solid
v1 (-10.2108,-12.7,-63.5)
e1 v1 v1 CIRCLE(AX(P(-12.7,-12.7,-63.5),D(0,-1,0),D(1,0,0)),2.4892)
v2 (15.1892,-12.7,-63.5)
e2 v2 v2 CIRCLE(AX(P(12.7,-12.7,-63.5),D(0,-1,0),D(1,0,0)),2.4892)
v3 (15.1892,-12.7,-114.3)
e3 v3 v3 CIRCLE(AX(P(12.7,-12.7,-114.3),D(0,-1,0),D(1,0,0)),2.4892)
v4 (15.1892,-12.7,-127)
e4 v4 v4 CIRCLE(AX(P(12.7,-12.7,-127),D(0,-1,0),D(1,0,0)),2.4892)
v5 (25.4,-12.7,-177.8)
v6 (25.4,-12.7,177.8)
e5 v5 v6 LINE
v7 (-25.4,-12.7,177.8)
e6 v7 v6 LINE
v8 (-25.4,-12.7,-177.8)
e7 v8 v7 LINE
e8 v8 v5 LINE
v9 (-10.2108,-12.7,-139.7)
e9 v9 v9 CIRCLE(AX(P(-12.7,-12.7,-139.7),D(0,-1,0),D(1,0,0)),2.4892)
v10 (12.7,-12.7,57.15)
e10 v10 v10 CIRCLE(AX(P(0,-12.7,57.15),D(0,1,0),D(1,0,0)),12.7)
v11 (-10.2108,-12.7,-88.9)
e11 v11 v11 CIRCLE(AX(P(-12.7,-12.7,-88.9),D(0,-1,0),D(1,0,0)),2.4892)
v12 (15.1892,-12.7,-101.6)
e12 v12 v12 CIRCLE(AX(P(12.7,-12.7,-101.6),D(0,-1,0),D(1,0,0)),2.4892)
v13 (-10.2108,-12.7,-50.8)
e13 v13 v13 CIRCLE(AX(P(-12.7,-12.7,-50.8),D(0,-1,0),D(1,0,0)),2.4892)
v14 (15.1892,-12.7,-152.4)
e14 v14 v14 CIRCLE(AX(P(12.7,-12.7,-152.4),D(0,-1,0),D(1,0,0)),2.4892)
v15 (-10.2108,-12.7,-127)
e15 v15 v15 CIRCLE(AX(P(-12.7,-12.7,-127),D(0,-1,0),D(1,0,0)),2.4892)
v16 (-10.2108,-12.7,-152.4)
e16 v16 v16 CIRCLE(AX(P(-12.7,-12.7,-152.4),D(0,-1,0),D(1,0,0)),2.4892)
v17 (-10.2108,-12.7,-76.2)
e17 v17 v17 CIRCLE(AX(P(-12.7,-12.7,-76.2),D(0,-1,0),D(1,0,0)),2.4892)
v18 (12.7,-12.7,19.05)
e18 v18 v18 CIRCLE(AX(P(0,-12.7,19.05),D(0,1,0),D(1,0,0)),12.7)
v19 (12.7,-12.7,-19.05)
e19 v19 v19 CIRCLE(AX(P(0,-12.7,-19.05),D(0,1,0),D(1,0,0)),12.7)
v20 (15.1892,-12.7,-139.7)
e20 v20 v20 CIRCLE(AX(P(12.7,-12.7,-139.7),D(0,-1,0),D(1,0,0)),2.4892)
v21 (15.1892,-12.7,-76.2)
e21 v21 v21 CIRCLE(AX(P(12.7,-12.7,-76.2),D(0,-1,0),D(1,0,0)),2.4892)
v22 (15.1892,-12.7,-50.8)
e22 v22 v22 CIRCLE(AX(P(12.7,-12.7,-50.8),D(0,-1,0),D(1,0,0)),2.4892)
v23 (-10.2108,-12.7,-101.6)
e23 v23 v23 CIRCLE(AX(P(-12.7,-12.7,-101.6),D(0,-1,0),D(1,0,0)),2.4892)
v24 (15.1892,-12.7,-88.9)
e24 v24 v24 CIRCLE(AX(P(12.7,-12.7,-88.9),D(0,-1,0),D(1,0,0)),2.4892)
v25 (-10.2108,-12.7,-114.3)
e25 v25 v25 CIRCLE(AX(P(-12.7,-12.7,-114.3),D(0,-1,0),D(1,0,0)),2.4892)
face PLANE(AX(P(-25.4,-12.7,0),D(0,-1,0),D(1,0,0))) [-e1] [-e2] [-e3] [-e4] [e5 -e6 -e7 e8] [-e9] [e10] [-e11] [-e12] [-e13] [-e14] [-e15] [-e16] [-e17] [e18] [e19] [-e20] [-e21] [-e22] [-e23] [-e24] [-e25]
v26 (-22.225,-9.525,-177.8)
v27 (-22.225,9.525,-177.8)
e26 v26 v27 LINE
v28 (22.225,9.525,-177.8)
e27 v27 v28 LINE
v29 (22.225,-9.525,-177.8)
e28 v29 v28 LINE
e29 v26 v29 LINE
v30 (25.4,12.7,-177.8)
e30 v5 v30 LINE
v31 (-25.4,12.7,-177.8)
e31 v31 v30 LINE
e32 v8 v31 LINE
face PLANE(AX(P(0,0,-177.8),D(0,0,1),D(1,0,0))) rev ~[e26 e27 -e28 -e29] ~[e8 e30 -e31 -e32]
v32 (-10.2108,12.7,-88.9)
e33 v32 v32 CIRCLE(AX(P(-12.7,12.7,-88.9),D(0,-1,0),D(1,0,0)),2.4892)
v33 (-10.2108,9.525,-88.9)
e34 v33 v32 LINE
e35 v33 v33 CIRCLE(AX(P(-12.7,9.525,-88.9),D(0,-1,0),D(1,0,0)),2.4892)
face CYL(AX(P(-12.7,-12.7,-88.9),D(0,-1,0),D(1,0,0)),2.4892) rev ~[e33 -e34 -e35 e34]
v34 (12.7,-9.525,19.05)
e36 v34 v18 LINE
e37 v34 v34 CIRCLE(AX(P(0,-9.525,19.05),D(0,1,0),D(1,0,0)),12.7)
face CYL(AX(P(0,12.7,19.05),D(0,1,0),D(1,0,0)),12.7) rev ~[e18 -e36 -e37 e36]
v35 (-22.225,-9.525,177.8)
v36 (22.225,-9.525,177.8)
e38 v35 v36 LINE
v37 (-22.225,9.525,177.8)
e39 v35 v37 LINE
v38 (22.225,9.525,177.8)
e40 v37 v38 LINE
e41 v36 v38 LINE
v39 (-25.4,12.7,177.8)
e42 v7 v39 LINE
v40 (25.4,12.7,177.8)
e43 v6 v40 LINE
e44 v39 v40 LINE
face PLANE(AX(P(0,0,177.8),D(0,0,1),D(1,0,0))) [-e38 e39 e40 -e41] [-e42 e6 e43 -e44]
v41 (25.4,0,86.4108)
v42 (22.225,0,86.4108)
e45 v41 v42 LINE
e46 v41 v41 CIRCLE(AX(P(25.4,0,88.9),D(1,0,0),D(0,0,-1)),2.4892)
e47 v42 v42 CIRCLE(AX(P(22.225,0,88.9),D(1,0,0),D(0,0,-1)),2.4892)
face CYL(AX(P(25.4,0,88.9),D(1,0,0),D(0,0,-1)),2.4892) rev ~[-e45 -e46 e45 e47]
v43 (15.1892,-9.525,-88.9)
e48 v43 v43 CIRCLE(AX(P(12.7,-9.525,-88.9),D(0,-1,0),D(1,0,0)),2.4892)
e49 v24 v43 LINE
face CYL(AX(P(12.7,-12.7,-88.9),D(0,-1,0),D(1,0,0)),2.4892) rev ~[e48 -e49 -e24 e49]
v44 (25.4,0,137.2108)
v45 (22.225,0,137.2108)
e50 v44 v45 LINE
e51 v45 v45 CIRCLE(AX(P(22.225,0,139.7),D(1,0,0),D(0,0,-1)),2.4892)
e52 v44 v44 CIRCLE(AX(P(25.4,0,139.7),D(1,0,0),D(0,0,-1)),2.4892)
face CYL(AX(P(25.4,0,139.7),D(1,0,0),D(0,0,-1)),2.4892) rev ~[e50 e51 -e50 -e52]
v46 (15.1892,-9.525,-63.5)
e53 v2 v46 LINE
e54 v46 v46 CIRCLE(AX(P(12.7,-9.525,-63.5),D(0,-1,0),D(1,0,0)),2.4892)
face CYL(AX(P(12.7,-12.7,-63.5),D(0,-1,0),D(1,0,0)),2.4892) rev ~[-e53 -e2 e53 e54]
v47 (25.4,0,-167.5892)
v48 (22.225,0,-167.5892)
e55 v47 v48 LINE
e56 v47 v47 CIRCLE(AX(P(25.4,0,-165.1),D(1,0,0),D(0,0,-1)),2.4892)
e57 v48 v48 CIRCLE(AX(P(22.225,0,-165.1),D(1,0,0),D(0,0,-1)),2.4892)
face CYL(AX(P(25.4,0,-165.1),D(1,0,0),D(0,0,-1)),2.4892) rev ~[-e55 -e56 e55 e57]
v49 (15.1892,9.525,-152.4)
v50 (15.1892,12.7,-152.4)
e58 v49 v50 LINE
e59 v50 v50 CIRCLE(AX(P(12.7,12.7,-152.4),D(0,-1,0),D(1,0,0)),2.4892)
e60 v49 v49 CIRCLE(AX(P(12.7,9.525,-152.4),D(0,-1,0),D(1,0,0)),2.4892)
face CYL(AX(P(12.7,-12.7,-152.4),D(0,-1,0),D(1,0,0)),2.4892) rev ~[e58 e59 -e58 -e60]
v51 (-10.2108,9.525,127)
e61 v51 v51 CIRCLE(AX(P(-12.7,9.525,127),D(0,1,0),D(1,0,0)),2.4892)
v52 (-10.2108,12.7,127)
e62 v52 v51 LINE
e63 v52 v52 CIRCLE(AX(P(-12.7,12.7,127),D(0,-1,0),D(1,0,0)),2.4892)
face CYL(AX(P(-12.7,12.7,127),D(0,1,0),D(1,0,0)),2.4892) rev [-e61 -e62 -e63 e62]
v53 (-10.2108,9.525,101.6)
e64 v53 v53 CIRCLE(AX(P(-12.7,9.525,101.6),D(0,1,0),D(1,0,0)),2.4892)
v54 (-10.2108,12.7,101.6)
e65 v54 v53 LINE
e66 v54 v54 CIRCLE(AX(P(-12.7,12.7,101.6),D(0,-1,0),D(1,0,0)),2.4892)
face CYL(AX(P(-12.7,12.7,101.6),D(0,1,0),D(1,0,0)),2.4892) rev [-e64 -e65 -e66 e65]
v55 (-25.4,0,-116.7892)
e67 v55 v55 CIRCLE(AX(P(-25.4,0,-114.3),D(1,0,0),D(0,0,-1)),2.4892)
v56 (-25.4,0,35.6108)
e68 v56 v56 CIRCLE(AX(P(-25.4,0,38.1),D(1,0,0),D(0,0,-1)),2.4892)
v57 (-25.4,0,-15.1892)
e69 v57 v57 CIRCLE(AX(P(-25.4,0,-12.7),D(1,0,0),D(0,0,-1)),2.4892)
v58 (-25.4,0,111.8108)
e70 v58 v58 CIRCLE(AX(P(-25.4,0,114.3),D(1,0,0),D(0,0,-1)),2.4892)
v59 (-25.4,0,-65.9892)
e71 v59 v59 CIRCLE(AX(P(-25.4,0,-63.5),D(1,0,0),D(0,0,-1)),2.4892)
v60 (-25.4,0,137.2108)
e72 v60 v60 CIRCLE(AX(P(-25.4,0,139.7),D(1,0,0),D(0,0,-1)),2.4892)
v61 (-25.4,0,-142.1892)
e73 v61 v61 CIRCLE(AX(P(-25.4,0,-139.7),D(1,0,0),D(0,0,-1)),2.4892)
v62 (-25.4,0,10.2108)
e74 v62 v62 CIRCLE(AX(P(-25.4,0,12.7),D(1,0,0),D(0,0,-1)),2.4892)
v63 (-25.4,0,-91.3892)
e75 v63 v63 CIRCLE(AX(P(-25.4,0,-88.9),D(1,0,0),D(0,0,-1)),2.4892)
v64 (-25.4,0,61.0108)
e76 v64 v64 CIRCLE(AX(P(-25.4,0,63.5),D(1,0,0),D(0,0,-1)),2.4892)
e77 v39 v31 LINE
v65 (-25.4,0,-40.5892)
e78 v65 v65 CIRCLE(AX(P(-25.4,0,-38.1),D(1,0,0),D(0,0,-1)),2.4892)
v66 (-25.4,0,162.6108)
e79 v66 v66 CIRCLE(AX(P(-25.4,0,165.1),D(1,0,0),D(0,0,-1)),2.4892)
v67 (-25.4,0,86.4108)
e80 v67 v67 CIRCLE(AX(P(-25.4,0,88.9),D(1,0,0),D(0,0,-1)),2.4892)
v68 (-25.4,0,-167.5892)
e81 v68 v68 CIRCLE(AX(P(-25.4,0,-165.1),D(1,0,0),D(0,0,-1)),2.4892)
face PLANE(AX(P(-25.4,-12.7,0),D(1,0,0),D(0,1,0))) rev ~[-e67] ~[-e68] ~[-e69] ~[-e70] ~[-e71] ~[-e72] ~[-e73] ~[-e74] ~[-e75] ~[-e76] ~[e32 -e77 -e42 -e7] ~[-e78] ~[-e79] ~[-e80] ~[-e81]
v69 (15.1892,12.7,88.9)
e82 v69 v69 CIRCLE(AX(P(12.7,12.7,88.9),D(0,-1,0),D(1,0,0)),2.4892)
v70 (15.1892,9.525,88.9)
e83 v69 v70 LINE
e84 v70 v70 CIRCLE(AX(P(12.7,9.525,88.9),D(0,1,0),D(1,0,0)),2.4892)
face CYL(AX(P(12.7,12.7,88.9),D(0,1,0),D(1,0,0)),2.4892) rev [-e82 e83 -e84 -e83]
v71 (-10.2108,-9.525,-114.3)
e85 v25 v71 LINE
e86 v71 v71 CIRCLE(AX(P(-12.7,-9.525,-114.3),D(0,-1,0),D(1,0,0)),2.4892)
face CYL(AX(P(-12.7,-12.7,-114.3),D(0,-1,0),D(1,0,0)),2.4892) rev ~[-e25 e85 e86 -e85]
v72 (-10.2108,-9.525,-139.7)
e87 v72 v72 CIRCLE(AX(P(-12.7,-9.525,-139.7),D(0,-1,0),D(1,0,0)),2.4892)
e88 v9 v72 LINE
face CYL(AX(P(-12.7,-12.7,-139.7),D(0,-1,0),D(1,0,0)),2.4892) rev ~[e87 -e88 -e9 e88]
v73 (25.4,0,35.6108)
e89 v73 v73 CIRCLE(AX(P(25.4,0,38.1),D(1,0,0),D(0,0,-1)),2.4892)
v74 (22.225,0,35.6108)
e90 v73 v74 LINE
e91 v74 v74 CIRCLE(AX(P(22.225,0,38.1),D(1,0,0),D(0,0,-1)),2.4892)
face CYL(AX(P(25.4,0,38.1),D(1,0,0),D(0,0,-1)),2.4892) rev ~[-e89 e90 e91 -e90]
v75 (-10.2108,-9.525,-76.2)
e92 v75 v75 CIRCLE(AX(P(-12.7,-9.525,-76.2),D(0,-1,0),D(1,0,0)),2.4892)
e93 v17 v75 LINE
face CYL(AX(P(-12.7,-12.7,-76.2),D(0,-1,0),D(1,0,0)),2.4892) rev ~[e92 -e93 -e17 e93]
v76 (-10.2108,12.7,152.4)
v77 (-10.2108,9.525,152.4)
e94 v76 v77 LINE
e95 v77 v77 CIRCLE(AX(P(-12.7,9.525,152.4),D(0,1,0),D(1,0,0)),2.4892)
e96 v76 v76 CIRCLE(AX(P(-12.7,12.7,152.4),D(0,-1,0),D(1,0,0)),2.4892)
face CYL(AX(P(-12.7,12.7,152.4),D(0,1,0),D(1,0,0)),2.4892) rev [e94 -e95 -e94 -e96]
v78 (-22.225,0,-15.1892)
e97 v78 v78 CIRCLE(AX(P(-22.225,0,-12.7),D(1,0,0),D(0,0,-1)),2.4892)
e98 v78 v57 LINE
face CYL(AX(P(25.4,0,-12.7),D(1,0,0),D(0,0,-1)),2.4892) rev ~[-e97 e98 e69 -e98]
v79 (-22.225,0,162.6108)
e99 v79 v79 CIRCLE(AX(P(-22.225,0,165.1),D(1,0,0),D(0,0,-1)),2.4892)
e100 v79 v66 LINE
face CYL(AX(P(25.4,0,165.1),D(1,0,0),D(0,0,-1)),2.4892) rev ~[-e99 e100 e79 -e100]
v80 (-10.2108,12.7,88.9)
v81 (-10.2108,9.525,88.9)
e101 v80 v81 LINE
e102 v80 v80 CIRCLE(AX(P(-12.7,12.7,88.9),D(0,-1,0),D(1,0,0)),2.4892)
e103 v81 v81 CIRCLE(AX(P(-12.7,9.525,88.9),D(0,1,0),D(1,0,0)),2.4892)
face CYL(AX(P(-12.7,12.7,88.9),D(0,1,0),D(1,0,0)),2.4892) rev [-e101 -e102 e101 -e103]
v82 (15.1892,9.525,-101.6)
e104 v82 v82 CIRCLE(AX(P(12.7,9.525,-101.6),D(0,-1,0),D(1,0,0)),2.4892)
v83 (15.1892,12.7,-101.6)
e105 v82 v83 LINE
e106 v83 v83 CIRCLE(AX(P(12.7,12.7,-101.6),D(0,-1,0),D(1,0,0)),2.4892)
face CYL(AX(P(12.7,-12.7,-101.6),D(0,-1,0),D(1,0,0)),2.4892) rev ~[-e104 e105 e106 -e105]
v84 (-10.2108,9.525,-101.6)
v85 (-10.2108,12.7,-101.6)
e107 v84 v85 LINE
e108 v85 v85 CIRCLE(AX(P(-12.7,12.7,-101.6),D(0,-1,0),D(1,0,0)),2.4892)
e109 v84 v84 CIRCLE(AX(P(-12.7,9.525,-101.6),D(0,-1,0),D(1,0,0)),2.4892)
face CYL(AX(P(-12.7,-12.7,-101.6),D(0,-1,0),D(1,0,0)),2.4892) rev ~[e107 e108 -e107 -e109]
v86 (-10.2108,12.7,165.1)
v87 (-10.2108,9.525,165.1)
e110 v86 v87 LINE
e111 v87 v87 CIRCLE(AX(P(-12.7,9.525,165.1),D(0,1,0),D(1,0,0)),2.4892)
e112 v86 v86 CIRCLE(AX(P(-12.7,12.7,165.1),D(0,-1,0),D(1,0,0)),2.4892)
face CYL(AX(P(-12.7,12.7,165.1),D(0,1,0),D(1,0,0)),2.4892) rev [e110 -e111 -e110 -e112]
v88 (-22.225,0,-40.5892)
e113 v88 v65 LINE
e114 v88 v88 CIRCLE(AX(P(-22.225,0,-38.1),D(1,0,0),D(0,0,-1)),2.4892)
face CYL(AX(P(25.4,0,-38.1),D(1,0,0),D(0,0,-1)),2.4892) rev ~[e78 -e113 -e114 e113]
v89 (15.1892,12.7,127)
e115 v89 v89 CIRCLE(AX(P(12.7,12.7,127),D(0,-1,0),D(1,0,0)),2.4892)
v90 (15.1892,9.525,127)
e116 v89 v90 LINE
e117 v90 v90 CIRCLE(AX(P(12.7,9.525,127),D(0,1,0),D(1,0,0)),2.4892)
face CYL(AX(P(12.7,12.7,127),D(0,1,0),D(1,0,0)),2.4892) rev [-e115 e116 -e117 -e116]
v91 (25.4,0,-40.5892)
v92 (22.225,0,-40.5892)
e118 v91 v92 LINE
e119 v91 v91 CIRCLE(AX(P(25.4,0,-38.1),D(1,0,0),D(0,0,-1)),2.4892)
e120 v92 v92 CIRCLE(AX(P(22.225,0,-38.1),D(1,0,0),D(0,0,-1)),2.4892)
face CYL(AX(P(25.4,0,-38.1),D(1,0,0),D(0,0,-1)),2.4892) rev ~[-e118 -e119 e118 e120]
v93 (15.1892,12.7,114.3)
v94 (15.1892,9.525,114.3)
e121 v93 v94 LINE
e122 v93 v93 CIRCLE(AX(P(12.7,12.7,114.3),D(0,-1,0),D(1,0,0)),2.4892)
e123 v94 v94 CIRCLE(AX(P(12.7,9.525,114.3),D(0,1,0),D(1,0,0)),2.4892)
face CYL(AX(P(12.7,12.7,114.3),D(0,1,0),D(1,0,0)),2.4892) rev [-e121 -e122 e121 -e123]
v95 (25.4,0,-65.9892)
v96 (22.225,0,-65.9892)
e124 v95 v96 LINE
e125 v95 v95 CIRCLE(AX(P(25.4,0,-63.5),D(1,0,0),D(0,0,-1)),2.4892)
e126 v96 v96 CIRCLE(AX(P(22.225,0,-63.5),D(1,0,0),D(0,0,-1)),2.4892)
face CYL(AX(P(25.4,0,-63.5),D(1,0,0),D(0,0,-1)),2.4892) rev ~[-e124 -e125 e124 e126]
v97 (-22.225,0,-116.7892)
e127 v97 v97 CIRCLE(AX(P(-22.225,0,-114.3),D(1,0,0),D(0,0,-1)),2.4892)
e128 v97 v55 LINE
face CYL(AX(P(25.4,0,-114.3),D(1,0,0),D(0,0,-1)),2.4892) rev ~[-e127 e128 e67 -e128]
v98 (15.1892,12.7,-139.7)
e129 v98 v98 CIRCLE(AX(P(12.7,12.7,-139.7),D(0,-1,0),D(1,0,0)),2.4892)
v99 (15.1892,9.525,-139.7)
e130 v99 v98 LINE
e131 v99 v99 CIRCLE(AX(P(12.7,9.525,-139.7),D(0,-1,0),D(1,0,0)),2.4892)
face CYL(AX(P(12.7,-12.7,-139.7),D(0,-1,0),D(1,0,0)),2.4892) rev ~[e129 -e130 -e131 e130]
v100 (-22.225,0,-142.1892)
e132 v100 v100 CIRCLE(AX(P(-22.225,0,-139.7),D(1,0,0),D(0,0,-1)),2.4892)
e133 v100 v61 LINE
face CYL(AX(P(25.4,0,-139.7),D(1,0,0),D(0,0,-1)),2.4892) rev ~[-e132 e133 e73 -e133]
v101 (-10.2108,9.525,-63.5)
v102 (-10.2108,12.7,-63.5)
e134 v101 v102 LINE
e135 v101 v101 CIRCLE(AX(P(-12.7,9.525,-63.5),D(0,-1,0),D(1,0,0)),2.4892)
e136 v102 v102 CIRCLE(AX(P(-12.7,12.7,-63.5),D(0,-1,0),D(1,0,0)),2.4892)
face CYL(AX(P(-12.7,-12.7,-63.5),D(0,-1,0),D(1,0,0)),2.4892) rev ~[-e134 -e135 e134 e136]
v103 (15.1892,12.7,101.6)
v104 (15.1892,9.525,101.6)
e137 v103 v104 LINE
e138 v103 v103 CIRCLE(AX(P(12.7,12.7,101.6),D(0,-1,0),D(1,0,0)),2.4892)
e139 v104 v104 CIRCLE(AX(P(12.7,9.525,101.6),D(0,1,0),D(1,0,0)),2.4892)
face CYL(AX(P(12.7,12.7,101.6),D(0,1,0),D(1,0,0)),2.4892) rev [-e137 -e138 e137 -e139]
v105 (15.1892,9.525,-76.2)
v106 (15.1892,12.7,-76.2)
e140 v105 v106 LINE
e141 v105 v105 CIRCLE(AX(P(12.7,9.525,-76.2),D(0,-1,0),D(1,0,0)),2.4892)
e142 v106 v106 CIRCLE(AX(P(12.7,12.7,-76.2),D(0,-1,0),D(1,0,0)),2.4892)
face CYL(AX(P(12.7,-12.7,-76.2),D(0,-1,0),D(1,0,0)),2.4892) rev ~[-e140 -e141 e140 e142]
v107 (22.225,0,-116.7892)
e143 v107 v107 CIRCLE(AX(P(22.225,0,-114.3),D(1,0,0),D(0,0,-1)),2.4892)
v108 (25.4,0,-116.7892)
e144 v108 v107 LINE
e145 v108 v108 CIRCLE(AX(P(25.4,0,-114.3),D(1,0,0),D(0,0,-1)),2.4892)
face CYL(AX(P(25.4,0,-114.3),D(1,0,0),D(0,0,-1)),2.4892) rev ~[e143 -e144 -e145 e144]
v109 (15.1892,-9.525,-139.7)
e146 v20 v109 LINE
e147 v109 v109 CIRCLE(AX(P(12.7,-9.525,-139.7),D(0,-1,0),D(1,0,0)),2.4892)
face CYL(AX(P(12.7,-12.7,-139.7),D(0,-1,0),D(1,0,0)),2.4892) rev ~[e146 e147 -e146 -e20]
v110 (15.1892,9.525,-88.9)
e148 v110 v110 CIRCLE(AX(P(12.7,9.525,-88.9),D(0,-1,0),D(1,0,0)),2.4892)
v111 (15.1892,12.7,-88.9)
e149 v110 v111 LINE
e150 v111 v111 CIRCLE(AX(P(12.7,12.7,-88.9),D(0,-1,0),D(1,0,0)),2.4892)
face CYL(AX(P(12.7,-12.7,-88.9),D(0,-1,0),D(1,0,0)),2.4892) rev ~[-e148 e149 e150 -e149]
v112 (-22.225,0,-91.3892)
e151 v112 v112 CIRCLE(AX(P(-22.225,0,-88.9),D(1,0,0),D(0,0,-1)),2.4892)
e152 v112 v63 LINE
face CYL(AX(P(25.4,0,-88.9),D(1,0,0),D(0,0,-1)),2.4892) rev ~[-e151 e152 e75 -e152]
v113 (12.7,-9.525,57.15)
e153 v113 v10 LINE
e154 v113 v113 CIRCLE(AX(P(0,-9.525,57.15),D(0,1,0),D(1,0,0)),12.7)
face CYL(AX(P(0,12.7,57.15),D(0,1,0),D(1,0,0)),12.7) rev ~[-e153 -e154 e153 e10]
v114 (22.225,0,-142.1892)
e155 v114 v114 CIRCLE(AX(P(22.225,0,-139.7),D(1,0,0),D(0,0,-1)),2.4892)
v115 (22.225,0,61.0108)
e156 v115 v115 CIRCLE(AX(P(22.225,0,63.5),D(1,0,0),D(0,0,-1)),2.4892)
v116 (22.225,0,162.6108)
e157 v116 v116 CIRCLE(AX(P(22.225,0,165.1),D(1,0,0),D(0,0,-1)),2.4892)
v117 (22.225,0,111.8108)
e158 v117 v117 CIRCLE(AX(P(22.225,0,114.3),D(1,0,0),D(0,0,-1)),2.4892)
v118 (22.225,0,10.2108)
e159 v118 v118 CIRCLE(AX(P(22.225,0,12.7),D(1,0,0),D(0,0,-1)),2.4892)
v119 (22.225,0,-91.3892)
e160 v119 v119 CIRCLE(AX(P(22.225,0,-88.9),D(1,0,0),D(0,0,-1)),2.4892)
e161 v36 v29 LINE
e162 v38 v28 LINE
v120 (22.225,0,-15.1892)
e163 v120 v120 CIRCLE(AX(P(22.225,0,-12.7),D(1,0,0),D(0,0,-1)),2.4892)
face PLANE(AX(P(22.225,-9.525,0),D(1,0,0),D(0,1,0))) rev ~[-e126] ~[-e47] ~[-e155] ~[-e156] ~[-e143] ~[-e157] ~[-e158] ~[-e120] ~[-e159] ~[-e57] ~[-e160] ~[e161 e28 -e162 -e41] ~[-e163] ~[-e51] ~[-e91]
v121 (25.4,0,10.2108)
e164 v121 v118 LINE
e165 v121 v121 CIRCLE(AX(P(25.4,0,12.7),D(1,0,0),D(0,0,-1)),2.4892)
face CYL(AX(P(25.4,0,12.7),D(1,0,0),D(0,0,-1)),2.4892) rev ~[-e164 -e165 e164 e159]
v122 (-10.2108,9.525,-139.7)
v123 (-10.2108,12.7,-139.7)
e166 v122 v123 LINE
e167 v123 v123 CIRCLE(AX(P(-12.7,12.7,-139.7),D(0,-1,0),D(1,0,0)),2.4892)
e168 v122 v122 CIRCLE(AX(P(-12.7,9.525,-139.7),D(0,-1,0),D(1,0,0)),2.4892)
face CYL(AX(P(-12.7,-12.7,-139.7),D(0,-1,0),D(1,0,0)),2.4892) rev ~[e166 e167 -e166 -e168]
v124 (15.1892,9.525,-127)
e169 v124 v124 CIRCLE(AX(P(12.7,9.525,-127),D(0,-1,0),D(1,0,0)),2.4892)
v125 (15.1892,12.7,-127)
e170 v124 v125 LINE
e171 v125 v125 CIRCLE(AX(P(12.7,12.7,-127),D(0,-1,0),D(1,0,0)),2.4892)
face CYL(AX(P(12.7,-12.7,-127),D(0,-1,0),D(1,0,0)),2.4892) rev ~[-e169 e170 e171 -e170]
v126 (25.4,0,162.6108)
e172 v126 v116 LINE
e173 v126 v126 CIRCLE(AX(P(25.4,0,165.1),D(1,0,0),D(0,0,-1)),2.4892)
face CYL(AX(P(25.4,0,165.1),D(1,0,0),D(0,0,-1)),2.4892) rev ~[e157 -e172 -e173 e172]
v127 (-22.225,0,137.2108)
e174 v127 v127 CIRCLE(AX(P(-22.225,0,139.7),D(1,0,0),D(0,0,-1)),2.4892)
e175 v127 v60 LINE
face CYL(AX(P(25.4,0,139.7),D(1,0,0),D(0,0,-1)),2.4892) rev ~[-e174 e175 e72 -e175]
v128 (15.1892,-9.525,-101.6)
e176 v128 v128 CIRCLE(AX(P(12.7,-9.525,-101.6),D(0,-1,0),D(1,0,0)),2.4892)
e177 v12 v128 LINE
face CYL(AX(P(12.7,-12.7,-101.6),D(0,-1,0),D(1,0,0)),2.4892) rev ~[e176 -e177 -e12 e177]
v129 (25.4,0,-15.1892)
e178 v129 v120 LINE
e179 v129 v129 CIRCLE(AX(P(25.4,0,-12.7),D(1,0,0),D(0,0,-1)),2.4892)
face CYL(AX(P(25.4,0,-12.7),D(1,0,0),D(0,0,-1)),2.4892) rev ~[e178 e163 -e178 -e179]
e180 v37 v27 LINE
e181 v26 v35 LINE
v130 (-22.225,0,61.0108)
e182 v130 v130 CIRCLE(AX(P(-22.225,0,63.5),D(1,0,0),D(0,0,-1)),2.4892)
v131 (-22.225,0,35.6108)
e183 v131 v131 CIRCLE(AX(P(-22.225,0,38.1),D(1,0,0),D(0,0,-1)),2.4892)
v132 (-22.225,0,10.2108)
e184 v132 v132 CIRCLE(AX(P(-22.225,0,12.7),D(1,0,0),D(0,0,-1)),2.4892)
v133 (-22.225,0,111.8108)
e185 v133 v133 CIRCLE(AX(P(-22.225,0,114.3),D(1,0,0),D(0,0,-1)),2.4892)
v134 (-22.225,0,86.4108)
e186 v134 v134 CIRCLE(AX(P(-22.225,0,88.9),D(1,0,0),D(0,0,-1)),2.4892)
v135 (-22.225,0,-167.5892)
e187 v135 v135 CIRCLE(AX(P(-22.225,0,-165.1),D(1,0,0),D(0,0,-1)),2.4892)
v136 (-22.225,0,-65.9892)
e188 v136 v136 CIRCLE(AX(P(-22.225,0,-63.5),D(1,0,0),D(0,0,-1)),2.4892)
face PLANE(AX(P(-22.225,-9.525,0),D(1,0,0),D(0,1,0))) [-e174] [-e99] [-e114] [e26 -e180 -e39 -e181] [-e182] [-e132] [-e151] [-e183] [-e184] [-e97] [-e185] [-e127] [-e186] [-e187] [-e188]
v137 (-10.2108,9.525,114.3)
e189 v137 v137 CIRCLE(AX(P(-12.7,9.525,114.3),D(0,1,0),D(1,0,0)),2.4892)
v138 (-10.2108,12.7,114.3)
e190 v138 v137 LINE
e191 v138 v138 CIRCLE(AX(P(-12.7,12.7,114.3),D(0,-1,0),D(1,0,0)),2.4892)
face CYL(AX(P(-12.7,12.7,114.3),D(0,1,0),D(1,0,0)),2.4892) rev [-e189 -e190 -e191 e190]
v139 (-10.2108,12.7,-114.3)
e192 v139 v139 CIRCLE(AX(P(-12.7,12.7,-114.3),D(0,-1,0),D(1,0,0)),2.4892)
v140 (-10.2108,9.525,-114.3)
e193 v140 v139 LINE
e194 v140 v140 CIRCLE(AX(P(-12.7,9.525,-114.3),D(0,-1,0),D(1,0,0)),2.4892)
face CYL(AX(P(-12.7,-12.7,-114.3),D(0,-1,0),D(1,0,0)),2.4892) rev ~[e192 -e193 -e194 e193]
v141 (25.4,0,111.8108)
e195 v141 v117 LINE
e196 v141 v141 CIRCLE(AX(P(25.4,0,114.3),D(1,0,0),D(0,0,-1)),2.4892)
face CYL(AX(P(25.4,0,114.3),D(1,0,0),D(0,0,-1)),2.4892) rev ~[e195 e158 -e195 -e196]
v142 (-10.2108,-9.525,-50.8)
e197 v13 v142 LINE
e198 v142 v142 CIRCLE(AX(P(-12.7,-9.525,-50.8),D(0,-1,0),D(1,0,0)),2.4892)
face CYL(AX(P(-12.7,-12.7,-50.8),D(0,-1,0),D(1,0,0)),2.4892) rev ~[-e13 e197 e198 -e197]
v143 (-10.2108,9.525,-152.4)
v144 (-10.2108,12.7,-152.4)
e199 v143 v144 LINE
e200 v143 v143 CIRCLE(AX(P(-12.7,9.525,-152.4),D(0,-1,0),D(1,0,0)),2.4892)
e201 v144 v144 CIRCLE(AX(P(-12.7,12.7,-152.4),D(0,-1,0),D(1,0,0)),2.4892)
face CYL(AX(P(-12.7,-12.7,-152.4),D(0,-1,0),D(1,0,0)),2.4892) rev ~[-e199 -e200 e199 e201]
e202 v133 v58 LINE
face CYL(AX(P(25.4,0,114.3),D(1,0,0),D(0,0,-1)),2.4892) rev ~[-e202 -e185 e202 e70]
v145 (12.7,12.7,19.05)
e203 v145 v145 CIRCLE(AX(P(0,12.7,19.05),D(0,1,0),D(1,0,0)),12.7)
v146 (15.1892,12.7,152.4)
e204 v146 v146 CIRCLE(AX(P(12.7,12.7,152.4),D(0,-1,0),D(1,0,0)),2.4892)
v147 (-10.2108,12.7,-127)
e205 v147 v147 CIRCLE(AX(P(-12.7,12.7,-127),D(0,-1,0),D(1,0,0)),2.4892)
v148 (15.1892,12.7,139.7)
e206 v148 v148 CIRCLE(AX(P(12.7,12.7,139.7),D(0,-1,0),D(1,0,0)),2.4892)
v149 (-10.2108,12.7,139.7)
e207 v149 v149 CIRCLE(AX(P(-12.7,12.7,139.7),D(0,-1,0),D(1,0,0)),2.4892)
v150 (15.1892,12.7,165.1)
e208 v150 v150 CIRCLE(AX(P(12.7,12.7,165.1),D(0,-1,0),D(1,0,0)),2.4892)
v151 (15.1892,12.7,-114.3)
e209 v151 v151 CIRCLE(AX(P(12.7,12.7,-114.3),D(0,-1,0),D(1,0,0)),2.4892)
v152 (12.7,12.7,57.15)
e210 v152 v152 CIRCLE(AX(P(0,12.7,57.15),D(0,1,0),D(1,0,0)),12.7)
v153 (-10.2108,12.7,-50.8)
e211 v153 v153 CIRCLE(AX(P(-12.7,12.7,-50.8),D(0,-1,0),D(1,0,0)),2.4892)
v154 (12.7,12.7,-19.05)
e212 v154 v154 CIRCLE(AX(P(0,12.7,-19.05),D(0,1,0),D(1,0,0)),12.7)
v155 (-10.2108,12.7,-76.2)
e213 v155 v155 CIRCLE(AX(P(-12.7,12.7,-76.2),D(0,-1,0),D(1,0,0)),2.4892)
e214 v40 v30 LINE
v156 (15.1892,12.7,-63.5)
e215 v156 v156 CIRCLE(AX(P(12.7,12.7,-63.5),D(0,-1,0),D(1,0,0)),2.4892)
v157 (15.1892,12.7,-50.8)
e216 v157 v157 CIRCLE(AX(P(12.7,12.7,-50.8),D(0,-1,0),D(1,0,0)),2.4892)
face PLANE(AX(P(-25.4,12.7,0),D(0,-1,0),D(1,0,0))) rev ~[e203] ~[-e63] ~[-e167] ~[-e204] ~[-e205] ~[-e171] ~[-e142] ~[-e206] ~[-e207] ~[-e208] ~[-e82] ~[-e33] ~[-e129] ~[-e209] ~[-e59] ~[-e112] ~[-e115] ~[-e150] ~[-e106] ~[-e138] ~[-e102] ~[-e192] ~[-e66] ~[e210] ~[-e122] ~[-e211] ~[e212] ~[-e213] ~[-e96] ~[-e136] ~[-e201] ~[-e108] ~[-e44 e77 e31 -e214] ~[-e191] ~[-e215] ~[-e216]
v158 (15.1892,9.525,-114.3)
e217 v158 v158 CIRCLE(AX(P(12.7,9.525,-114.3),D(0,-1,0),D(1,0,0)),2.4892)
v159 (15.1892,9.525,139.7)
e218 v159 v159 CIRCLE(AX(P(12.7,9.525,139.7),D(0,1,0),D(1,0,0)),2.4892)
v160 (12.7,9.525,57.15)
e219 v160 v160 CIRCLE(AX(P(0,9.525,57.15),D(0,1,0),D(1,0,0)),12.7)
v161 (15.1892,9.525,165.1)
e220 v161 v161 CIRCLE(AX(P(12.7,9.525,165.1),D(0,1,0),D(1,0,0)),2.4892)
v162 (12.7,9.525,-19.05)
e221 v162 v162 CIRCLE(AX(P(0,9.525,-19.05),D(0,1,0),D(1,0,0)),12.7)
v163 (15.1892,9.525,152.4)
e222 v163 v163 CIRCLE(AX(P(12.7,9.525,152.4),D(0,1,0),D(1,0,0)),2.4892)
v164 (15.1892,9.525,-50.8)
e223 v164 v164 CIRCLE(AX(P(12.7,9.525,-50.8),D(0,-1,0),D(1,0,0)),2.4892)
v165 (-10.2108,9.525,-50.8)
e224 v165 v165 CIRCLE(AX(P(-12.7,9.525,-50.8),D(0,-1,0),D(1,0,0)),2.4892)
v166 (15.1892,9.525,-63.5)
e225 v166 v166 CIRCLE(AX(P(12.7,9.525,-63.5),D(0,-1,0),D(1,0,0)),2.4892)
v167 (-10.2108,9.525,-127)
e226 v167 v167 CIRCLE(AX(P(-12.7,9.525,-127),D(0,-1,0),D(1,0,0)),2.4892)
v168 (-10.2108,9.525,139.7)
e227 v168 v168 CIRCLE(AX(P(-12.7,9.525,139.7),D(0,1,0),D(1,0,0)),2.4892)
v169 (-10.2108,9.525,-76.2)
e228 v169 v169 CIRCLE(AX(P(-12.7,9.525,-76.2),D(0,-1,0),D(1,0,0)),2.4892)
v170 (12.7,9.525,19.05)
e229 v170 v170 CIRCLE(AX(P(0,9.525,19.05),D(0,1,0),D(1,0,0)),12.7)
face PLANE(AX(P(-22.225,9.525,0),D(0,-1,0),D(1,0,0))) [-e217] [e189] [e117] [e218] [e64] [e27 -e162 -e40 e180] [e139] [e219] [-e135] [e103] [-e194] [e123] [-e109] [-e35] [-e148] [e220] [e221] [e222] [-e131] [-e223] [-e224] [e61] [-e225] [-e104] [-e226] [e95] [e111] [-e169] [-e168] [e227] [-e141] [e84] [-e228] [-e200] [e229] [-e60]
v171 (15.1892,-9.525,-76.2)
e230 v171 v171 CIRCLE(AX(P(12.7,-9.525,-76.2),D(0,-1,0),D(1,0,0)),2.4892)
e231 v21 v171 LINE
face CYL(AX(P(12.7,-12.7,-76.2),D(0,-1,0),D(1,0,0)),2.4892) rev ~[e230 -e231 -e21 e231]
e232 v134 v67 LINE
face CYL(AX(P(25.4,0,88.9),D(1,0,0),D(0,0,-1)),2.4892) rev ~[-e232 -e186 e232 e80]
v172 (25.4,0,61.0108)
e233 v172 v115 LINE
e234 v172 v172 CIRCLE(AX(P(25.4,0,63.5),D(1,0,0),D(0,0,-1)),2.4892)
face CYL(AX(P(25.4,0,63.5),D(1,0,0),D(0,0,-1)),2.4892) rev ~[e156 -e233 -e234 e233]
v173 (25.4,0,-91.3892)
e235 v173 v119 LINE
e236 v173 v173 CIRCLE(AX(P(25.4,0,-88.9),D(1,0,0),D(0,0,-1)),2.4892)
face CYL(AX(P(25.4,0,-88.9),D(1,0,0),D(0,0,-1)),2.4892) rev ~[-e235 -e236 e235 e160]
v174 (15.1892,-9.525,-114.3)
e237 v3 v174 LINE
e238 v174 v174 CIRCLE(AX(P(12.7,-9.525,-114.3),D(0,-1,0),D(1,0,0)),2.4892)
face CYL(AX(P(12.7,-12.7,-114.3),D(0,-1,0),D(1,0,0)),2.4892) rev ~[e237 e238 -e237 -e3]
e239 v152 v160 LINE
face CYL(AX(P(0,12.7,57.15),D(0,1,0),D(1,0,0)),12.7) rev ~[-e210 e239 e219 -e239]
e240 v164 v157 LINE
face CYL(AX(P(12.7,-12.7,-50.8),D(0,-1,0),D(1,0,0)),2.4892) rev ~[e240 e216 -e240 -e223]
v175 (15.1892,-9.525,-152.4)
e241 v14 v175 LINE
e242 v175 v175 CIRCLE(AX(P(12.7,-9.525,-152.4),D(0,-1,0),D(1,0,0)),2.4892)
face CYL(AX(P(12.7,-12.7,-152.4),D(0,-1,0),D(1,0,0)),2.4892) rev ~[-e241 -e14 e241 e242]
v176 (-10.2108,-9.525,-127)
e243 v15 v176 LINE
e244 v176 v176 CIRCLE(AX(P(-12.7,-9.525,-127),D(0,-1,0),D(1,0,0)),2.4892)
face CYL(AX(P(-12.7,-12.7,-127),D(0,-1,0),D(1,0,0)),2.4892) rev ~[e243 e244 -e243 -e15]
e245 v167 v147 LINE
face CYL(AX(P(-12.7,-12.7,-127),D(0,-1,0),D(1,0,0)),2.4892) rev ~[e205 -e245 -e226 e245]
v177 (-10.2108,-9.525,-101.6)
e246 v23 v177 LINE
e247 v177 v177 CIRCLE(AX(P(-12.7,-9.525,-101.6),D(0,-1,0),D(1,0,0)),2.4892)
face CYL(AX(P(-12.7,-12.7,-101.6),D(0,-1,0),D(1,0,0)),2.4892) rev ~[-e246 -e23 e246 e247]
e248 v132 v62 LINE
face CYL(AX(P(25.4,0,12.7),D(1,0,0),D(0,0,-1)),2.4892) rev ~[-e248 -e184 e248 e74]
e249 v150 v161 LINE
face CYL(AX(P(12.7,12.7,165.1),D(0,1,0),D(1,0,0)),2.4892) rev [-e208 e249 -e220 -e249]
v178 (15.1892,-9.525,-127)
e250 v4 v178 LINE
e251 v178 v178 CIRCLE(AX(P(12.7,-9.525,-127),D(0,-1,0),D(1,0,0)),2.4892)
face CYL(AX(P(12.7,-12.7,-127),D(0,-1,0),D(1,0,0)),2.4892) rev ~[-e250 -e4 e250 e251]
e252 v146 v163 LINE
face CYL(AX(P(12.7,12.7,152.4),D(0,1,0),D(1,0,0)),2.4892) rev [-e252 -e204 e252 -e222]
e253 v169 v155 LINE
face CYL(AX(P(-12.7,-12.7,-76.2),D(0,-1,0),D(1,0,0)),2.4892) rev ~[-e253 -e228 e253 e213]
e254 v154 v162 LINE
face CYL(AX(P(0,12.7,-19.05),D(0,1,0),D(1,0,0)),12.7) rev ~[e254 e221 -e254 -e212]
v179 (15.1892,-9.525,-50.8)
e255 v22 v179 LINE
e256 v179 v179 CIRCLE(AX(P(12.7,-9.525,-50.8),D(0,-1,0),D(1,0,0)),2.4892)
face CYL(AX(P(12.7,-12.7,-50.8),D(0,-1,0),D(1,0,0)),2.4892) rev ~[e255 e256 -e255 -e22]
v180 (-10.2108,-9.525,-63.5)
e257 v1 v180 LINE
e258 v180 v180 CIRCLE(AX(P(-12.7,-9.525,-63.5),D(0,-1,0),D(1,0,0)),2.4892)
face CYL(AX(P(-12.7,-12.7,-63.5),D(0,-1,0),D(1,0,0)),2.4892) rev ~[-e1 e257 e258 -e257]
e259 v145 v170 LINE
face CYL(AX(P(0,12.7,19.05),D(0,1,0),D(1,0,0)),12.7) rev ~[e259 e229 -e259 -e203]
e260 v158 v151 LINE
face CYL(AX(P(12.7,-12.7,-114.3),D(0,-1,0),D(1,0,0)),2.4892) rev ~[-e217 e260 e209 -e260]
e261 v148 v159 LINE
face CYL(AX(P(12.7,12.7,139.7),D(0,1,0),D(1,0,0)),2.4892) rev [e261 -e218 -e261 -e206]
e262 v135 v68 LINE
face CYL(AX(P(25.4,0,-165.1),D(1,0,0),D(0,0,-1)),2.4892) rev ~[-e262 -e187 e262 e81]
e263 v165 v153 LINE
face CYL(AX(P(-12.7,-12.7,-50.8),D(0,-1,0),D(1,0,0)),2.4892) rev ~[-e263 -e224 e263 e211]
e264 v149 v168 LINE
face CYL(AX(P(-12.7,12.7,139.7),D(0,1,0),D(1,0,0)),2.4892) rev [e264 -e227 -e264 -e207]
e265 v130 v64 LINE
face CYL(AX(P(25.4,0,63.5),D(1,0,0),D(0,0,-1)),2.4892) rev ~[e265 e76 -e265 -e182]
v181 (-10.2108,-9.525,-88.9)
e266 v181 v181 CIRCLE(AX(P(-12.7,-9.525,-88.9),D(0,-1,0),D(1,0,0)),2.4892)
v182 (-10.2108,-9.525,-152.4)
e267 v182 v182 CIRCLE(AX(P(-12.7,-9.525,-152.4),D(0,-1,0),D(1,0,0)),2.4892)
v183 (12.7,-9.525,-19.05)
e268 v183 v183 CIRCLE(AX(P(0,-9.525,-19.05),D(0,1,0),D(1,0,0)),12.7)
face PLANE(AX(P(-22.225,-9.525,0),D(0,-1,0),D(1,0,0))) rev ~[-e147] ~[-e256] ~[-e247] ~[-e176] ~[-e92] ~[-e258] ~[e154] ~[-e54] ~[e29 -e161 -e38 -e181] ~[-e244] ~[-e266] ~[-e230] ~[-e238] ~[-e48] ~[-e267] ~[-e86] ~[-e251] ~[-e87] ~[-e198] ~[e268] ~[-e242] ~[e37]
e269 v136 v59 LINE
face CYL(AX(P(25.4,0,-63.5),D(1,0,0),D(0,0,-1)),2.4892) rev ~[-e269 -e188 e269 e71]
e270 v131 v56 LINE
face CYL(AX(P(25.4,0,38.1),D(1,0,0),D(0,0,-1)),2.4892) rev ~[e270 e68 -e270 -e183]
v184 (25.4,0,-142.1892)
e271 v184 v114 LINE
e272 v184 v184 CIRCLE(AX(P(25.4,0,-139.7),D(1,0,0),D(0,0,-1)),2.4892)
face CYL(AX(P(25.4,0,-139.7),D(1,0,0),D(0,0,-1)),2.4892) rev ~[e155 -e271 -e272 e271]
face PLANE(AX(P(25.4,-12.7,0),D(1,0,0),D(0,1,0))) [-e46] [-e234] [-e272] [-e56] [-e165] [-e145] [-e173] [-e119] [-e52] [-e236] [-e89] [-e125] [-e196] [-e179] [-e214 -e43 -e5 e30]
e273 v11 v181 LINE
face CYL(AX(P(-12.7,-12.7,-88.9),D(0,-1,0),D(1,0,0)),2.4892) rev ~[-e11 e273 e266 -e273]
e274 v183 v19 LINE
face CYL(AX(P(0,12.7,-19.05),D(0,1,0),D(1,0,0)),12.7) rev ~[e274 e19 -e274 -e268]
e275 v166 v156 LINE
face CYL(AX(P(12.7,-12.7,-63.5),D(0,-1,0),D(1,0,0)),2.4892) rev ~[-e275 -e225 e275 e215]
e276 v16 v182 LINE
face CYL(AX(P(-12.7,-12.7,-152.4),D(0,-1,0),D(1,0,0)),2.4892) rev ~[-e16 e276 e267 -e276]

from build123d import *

# Parameters (mm, degrees)
SKETCH1_W           = 50.8
SKETCH1_H           = 25.4
SKETCH1_W_2         = 44.45
SKETCH1_H_2         = 19.05
BOSS_EXTRUDE1_DEPTH = 177.8
CUT_EXTRUDE1_REACH  = 27.4
SKETCH2_R           = 2.4892
SKETCH3_R           = 2.4892
CUT_EXTRUDE2_DEPTH  = 51.8
SKETCH4_R           = 2.4892
CUT_EXTRUDE3_DEPTH  = 26.4
SKETCH5_R           = 12.7
CUT_EXTRUDE4_DEPTH  = 26.4


with BuildPart() as part:
    # Sketch1 → Boss-Extrude1 (new body, symmetric)
    with BuildSketch(Plane.XY):
        Rectangle(SKETCH1_W, SKETCH1_H)
        Rectangle(SKETCH1_W_2, SKETCH1_H_2, mode=Mode.SUBTRACT)
    extrude(amount=BOSS_EXTRUDE1_DEPTH, both=True)

    # Sketch2 → Cut-Extrude1 (cut, up to next)
    with BuildSketch(Plane.XZ.offset(-12.7), mode=Mode.PRIVATE) as cut_extrude1_sk1:
        with Locations((-12.7, 165.1)):
            Circle(SKETCH2_R)
    cut_extrude1_tool1 = extrude(cut_extrude1_sk1.sketch, amount=CUT_EXTRUDE1_REACH, mode=Mode.PRIVATE) & part.part
    add(cut_extrude1_tool1.solids().sort_by_distance((-12.7, 12.7, 165.1))[0], mode=Mode.SUBTRACT)
    # Sketch2 → Cut-Extrude1 (cut, up to next)
    with BuildSketch(Plane.XZ.offset(-12.7), mode=Mode.PRIVATE) as cut_extrude1_sk2:
        with Locations((-12.7, 152.4)):
            Circle(SKETCH2_R)
    cut_extrude1_tool2 = extrude(cut_extrude1_sk2.sketch, amount=CUT_EXTRUDE1_REACH, mode=Mode.PRIVATE) & part.part
    add(cut_extrude1_tool2.solids().sort_by_distance((-12.7, 12.7, 152.4))[0], mode=Mode.SUBTRACT)
    # Sketch2 → Cut-Extrude1 (cut, up to next)
    with BuildSketch(Plane.XZ.offset(-12.7), mode=Mode.PRIVATE) as cut_extrude1_sk3:
        with Locations((-12.7, 139.7)):
            Circle(SKETCH2_R)
    cut_extrude1_tool3 = extrude(cut_extrude1_sk3.sketch, amount=CUT_EXTRUDE1_REACH, mode=Mode.PRIVATE) & part.part
    add(cut_extrude1_tool3.solids().sort_by_distance((-12.7, 12.7, 139.7))[0], mode=Mode.SUBTRACT)
    # Sketch2 → Cut-Extrude1 (cut, up to next)
    with BuildSketch(Plane.XZ.offset(-12.7), mode=Mode.PRIVATE) as cut_extrude1_sk4:
        with Locations((-12.7, 127)):
            Circle(SKETCH2_R)
    cut_extrude1_tool4 = extrude(cut_extrude1_sk4.sketch, amount=CUT_EXTRUDE1_REACH, mode=Mode.PRIVATE) & part.part
    add(cut_extrude1_tool4.solids().sort_by_distance((-12.7, 12.7, 127))[0], mode=Mode.SUBTRACT)
    # Sketch2 → Cut-Extrude1 (cut, up to next)
    with BuildSketch(Plane.XZ.offset(-12.7), mode=Mode.PRIVATE) as cut_extrude1_sk5:
        with Locations((-12.7, 114.3)):
            Circle(SKETCH2_R)
    cut_extrude1_tool5 = extrude(cut_extrude1_sk5.sketch, amount=CUT_EXTRUDE1_REACH, mode=Mode.PRIVATE) & part.part
    add(cut_extrude1_tool5.solids().sort_by_distance((-12.7, 12.7, 114.3))[0], mode=Mode.SUBTRACT)
    # Sketch2 → Cut-Extrude1 (cut, up to next)
    with BuildSketch(Plane.XZ.offset(-12.7), mode=Mode.PRIVATE) as cut_extrude1_sk6:
        with Locations((-12.7, 101.6)):
            Circle(SKETCH2_R)
    cut_extrude1_tool6 = extrude(cut_extrude1_sk6.sketch, amount=CUT_EXTRUDE1_REACH, mode=Mode.PRIVATE) & part.part
    add(cut_extrude1_tool6.solids().sort_by_distance((-12.7, 12.7, 101.6))[0], mode=Mode.SUBTRACT)
    # Sketch2 → Cut-Extrude1 (cut, up to next)
    with BuildSketch(Plane.XZ.offset(-12.7), mode=Mode.PRIVATE) as cut_extrude1_sk7:
        with Locations((-12.7, 88.9)):
            Circle(SKETCH2_R)
    cut_extrude1_tool7 = extrude(cut_extrude1_sk7.sketch, amount=CUT_EXTRUDE1_REACH, mode=Mode.PRIVATE) & part.part
    add(cut_extrude1_tool7.solids().sort_by_distance((-12.7, 12.7, 88.9))[0], mode=Mode.SUBTRACT)
    # Sketch2 → Cut-Extrude1 (cut, up to next)
    with BuildSketch(Plane.XZ.offset(-12.7), mode=Mode.PRIVATE) as cut_extrude1_sk8:
        with Locations((12.7, 165.1)):
            Circle(SKETCH2_R)
    cut_extrude1_tool8 = extrude(cut_extrude1_sk8.sketch, amount=CUT_EXTRUDE1_REACH, mode=Mode.PRIVATE) & part.part
    add(cut_extrude1_tool8.solids().sort_by_distance((12.7, 12.7, 165.1))[0], mode=Mode.SUBTRACT)
    # Sketch2 → Cut-Extrude1 (cut, up to next)
    with BuildSketch(Plane.XZ.offset(-12.7), mode=Mode.PRIVATE) as cut_extrude1_sk9:
        with Locations((12.7, 152.4)):
            Circle(SKETCH2_R)
    cut_extrude1_tool9 = extrude(cut_extrude1_sk9.sketch, amount=CUT_EXTRUDE1_REACH, mode=Mode.PRIVATE) & part.part
    add(cut_extrude1_tool9.solids().sort_by_distance((12.7, 12.7, 152.4))[0], mode=Mode.SUBTRACT)
    # Sketch2 → Cut-Extrude1 (cut, up to next)
    with BuildSketch(Plane.XZ.offset(-12.7), mode=Mode.PRIVATE) as cut_extrude1_sk10:
        with Locations((12.7, 139.7)):
            Circle(SKETCH2_R)
    cut_extrude1_tool10 = extrude(cut_extrude1_sk10.sketch, amount=CUT_EXTRUDE1_REACH, mode=Mode.PRIVATE) & part.part
    add(cut_extrude1_tool10.solids().sort_by_distance((12.7, 12.7, 139.7))[0], mode=Mode.SUBTRACT)
    # Sketch2 → Cut-Extrude1 (cut, up to next)
    with BuildSketch(Plane.XZ.offset(-12.7), mode=Mode.PRIVATE) as cut_extrude1_sk11:
        with Locations((12.7, 127)):
            Circle(SKETCH2_R)
    cut_extrude1_tool11 = extrude(cut_extrude1_sk11.sketch, amount=CUT_EXTRUDE1_REACH, mode=Mode.PRIVATE) & part.part
    add(cut_extrude1_tool11.solids().sort_by_distance((12.7, 12.7, 127))[0], mode=Mode.SUBTRACT)
    # Sketch2 → Cut-Extrude1 (cut, up to next)
    with BuildSketch(Plane.XZ.offset(-12.7), mode=Mode.PRIVATE) as cut_extrude1_sk12:
        with Locations((12.7, 114.3)):
            Circle(SKETCH2_R)
    cut_extrude1_tool12 = extrude(cut_extrude1_sk12.sketch, amount=CUT_EXTRUDE1_REACH, mode=Mode.PRIVATE) & part.part
    add(cut_extrude1_tool12.solids().sort_by_distance((12.7, 12.7, 114.3))[0], mode=Mode.SUBTRACT)
    # Sketch2 → Cut-Extrude1 (cut, up to next)
    with BuildSketch(Plane.XZ.offset(-12.7), mode=Mode.PRIVATE) as cut_extrude1_sk13:
        with Locations((12.7, 101.6)):
            Circle(SKETCH2_R)
    cut_extrude1_tool13 = extrude(cut_extrude1_sk13.sketch, amount=CUT_EXTRUDE1_REACH, mode=Mode.PRIVATE) & part.part
    add(cut_extrude1_tool13.solids().sort_by_distance((12.7, 12.7, 101.6))[0], mode=Mode.SUBTRACT)
    # Sketch2 → Cut-Extrude1 (cut, up to next)
    with BuildSketch(Plane.XZ.offset(-12.7), mode=Mode.PRIVATE) as cut_extrude1_sk14:
        with Locations((12.7, 88.9)):
            Circle(SKETCH2_R)
    cut_extrude1_tool14 = extrude(cut_extrude1_sk14.sketch, amount=CUT_EXTRUDE1_REACH, mode=Mode.PRIVATE) & part.part
    add(cut_extrude1_tool14.solids().sort_by_distance((12.7, 12.7, 88.9))[0], mode=Mode.SUBTRACT)

    # Sketch3 → Cut-Extrude2 (cut, through all)
    with BuildSketch(Plane(origin=(25.4, 0, 0), x_dir=(0, 0, -1), z_dir=(1, 0, 0))):
        with Locations((-165.1, 0)):
            Circle(SKETCH3_R)
        with Locations((-139.7, 0)):
            Circle(SKETCH3_R)
        with Locations((-114.3, 0)):
            Circle(SKETCH3_R)
        with Locations((-88.9, 0)):
            Circle(SKETCH3_R)
        with Locations((-63.5, 0)):
            Circle(SKETCH3_R)
        with Locations((-38.1, 0)):
            Circle(SKETCH3_R)
        with Locations((-12.7, 0)):
            Circle(SKETCH3_R)
        with Locations((12.7, 0)):
            Circle(SKETCH3_R)
        with Locations((38.1, 0)):
            Circle(SKETCH3_R)
        with Locations((63.5, 0)):
            Circle(SKETCH3_R)
        with Locations((88.9, 0)):
            Circle(SKETCH3_R)
        with Locations((114.3, 0)):
            Circle(SKETCH3_R)
        with Locations((139.7, 0)):
            Circle(SKETCH3_R)
        with Locations((165.1, 0)):
            Circle(SKETCH3_R)
    extrude(amount=-CUT_EXTRUDE2_DEPTH, mode=Mode.SUBTRACT)

    # Sketch4 → Cut-Extrude3 (cut, through all)
    with BuildSketch(Plane.XZ.offset(12.7)):
        with Locations((-12.7, -152.4)):
            Circle(SKETCH4_R)
        with Locations((-12.7, -139.7)):
            Circle(SKETCH4_R)
        with Locations((-12.7, -127)):
            Circle(SKETCH4_R)
        with Locations((-12.7, -114.3)):
            Circle(SKETCH4_R)
        with Locations((-12.7, -101.6)):
            Circle(SKETCH4_R)
        with Locations((-12.7, -88.9)):
            Circle(SKETCH4_R)
        with Locations((-12.7, -76.2)):
            Circle(SKETCH4_R)
        with Locations((-12.7, -63.5)):
            Circle(SKETCH4_R)
        with Locations((-12.7, -50.8)):
            Circle(SKETCH4_R)
        with Locations((12.7, -50.8)):
            Circle(SKETCH4_R)
        with Locations((12.7, -63.5)):
            Circle(SKETCH4_R)
        with Locations((12.7, -76.2)):
            Circle(SKETCH4_R)
        with Locations((12.7, -88.9)):
            Circle(SKETCH4_R)
        with Locations((12.7, -101.6)):
            Circle(SKETCH4_R)
        with Locations((12.7, -114.3)):
            Circle(SKETCH4_R)
        with Locations((12.7, -127)):
            Circle(SKETCH4_R)
        with Locations((12.7, -139.7)):
            Circle(SKETCH4_R)
        with Locations((12.7, -152.4)):
            Circle(SKETCH4_R)
    extrude(amount=-CUT_EXTRUDE3_DEPTH, mode=Mode.SUBTRACT)

    # Sketch5 → Cut-Extrude4 (cut, through all)
    with BuildSketch(Plane(origin=(0, 12.7, 0), x_dir=(1, 0, 0), z_dir=(0, 1, 0))):
        with Locations((0, -57.15)):
            Circle(SKETCH5_R)
        with Locations((0, -19.05)):
            Circle(SKETCH5_R)
        with Locations((0, 19.05)):
            Circle(SKETCH5_R)
    extrude(amount=-CUT_EXTRUDE4_DEPTH, mode=Mode.SUBTRACT)


solid = part.part
